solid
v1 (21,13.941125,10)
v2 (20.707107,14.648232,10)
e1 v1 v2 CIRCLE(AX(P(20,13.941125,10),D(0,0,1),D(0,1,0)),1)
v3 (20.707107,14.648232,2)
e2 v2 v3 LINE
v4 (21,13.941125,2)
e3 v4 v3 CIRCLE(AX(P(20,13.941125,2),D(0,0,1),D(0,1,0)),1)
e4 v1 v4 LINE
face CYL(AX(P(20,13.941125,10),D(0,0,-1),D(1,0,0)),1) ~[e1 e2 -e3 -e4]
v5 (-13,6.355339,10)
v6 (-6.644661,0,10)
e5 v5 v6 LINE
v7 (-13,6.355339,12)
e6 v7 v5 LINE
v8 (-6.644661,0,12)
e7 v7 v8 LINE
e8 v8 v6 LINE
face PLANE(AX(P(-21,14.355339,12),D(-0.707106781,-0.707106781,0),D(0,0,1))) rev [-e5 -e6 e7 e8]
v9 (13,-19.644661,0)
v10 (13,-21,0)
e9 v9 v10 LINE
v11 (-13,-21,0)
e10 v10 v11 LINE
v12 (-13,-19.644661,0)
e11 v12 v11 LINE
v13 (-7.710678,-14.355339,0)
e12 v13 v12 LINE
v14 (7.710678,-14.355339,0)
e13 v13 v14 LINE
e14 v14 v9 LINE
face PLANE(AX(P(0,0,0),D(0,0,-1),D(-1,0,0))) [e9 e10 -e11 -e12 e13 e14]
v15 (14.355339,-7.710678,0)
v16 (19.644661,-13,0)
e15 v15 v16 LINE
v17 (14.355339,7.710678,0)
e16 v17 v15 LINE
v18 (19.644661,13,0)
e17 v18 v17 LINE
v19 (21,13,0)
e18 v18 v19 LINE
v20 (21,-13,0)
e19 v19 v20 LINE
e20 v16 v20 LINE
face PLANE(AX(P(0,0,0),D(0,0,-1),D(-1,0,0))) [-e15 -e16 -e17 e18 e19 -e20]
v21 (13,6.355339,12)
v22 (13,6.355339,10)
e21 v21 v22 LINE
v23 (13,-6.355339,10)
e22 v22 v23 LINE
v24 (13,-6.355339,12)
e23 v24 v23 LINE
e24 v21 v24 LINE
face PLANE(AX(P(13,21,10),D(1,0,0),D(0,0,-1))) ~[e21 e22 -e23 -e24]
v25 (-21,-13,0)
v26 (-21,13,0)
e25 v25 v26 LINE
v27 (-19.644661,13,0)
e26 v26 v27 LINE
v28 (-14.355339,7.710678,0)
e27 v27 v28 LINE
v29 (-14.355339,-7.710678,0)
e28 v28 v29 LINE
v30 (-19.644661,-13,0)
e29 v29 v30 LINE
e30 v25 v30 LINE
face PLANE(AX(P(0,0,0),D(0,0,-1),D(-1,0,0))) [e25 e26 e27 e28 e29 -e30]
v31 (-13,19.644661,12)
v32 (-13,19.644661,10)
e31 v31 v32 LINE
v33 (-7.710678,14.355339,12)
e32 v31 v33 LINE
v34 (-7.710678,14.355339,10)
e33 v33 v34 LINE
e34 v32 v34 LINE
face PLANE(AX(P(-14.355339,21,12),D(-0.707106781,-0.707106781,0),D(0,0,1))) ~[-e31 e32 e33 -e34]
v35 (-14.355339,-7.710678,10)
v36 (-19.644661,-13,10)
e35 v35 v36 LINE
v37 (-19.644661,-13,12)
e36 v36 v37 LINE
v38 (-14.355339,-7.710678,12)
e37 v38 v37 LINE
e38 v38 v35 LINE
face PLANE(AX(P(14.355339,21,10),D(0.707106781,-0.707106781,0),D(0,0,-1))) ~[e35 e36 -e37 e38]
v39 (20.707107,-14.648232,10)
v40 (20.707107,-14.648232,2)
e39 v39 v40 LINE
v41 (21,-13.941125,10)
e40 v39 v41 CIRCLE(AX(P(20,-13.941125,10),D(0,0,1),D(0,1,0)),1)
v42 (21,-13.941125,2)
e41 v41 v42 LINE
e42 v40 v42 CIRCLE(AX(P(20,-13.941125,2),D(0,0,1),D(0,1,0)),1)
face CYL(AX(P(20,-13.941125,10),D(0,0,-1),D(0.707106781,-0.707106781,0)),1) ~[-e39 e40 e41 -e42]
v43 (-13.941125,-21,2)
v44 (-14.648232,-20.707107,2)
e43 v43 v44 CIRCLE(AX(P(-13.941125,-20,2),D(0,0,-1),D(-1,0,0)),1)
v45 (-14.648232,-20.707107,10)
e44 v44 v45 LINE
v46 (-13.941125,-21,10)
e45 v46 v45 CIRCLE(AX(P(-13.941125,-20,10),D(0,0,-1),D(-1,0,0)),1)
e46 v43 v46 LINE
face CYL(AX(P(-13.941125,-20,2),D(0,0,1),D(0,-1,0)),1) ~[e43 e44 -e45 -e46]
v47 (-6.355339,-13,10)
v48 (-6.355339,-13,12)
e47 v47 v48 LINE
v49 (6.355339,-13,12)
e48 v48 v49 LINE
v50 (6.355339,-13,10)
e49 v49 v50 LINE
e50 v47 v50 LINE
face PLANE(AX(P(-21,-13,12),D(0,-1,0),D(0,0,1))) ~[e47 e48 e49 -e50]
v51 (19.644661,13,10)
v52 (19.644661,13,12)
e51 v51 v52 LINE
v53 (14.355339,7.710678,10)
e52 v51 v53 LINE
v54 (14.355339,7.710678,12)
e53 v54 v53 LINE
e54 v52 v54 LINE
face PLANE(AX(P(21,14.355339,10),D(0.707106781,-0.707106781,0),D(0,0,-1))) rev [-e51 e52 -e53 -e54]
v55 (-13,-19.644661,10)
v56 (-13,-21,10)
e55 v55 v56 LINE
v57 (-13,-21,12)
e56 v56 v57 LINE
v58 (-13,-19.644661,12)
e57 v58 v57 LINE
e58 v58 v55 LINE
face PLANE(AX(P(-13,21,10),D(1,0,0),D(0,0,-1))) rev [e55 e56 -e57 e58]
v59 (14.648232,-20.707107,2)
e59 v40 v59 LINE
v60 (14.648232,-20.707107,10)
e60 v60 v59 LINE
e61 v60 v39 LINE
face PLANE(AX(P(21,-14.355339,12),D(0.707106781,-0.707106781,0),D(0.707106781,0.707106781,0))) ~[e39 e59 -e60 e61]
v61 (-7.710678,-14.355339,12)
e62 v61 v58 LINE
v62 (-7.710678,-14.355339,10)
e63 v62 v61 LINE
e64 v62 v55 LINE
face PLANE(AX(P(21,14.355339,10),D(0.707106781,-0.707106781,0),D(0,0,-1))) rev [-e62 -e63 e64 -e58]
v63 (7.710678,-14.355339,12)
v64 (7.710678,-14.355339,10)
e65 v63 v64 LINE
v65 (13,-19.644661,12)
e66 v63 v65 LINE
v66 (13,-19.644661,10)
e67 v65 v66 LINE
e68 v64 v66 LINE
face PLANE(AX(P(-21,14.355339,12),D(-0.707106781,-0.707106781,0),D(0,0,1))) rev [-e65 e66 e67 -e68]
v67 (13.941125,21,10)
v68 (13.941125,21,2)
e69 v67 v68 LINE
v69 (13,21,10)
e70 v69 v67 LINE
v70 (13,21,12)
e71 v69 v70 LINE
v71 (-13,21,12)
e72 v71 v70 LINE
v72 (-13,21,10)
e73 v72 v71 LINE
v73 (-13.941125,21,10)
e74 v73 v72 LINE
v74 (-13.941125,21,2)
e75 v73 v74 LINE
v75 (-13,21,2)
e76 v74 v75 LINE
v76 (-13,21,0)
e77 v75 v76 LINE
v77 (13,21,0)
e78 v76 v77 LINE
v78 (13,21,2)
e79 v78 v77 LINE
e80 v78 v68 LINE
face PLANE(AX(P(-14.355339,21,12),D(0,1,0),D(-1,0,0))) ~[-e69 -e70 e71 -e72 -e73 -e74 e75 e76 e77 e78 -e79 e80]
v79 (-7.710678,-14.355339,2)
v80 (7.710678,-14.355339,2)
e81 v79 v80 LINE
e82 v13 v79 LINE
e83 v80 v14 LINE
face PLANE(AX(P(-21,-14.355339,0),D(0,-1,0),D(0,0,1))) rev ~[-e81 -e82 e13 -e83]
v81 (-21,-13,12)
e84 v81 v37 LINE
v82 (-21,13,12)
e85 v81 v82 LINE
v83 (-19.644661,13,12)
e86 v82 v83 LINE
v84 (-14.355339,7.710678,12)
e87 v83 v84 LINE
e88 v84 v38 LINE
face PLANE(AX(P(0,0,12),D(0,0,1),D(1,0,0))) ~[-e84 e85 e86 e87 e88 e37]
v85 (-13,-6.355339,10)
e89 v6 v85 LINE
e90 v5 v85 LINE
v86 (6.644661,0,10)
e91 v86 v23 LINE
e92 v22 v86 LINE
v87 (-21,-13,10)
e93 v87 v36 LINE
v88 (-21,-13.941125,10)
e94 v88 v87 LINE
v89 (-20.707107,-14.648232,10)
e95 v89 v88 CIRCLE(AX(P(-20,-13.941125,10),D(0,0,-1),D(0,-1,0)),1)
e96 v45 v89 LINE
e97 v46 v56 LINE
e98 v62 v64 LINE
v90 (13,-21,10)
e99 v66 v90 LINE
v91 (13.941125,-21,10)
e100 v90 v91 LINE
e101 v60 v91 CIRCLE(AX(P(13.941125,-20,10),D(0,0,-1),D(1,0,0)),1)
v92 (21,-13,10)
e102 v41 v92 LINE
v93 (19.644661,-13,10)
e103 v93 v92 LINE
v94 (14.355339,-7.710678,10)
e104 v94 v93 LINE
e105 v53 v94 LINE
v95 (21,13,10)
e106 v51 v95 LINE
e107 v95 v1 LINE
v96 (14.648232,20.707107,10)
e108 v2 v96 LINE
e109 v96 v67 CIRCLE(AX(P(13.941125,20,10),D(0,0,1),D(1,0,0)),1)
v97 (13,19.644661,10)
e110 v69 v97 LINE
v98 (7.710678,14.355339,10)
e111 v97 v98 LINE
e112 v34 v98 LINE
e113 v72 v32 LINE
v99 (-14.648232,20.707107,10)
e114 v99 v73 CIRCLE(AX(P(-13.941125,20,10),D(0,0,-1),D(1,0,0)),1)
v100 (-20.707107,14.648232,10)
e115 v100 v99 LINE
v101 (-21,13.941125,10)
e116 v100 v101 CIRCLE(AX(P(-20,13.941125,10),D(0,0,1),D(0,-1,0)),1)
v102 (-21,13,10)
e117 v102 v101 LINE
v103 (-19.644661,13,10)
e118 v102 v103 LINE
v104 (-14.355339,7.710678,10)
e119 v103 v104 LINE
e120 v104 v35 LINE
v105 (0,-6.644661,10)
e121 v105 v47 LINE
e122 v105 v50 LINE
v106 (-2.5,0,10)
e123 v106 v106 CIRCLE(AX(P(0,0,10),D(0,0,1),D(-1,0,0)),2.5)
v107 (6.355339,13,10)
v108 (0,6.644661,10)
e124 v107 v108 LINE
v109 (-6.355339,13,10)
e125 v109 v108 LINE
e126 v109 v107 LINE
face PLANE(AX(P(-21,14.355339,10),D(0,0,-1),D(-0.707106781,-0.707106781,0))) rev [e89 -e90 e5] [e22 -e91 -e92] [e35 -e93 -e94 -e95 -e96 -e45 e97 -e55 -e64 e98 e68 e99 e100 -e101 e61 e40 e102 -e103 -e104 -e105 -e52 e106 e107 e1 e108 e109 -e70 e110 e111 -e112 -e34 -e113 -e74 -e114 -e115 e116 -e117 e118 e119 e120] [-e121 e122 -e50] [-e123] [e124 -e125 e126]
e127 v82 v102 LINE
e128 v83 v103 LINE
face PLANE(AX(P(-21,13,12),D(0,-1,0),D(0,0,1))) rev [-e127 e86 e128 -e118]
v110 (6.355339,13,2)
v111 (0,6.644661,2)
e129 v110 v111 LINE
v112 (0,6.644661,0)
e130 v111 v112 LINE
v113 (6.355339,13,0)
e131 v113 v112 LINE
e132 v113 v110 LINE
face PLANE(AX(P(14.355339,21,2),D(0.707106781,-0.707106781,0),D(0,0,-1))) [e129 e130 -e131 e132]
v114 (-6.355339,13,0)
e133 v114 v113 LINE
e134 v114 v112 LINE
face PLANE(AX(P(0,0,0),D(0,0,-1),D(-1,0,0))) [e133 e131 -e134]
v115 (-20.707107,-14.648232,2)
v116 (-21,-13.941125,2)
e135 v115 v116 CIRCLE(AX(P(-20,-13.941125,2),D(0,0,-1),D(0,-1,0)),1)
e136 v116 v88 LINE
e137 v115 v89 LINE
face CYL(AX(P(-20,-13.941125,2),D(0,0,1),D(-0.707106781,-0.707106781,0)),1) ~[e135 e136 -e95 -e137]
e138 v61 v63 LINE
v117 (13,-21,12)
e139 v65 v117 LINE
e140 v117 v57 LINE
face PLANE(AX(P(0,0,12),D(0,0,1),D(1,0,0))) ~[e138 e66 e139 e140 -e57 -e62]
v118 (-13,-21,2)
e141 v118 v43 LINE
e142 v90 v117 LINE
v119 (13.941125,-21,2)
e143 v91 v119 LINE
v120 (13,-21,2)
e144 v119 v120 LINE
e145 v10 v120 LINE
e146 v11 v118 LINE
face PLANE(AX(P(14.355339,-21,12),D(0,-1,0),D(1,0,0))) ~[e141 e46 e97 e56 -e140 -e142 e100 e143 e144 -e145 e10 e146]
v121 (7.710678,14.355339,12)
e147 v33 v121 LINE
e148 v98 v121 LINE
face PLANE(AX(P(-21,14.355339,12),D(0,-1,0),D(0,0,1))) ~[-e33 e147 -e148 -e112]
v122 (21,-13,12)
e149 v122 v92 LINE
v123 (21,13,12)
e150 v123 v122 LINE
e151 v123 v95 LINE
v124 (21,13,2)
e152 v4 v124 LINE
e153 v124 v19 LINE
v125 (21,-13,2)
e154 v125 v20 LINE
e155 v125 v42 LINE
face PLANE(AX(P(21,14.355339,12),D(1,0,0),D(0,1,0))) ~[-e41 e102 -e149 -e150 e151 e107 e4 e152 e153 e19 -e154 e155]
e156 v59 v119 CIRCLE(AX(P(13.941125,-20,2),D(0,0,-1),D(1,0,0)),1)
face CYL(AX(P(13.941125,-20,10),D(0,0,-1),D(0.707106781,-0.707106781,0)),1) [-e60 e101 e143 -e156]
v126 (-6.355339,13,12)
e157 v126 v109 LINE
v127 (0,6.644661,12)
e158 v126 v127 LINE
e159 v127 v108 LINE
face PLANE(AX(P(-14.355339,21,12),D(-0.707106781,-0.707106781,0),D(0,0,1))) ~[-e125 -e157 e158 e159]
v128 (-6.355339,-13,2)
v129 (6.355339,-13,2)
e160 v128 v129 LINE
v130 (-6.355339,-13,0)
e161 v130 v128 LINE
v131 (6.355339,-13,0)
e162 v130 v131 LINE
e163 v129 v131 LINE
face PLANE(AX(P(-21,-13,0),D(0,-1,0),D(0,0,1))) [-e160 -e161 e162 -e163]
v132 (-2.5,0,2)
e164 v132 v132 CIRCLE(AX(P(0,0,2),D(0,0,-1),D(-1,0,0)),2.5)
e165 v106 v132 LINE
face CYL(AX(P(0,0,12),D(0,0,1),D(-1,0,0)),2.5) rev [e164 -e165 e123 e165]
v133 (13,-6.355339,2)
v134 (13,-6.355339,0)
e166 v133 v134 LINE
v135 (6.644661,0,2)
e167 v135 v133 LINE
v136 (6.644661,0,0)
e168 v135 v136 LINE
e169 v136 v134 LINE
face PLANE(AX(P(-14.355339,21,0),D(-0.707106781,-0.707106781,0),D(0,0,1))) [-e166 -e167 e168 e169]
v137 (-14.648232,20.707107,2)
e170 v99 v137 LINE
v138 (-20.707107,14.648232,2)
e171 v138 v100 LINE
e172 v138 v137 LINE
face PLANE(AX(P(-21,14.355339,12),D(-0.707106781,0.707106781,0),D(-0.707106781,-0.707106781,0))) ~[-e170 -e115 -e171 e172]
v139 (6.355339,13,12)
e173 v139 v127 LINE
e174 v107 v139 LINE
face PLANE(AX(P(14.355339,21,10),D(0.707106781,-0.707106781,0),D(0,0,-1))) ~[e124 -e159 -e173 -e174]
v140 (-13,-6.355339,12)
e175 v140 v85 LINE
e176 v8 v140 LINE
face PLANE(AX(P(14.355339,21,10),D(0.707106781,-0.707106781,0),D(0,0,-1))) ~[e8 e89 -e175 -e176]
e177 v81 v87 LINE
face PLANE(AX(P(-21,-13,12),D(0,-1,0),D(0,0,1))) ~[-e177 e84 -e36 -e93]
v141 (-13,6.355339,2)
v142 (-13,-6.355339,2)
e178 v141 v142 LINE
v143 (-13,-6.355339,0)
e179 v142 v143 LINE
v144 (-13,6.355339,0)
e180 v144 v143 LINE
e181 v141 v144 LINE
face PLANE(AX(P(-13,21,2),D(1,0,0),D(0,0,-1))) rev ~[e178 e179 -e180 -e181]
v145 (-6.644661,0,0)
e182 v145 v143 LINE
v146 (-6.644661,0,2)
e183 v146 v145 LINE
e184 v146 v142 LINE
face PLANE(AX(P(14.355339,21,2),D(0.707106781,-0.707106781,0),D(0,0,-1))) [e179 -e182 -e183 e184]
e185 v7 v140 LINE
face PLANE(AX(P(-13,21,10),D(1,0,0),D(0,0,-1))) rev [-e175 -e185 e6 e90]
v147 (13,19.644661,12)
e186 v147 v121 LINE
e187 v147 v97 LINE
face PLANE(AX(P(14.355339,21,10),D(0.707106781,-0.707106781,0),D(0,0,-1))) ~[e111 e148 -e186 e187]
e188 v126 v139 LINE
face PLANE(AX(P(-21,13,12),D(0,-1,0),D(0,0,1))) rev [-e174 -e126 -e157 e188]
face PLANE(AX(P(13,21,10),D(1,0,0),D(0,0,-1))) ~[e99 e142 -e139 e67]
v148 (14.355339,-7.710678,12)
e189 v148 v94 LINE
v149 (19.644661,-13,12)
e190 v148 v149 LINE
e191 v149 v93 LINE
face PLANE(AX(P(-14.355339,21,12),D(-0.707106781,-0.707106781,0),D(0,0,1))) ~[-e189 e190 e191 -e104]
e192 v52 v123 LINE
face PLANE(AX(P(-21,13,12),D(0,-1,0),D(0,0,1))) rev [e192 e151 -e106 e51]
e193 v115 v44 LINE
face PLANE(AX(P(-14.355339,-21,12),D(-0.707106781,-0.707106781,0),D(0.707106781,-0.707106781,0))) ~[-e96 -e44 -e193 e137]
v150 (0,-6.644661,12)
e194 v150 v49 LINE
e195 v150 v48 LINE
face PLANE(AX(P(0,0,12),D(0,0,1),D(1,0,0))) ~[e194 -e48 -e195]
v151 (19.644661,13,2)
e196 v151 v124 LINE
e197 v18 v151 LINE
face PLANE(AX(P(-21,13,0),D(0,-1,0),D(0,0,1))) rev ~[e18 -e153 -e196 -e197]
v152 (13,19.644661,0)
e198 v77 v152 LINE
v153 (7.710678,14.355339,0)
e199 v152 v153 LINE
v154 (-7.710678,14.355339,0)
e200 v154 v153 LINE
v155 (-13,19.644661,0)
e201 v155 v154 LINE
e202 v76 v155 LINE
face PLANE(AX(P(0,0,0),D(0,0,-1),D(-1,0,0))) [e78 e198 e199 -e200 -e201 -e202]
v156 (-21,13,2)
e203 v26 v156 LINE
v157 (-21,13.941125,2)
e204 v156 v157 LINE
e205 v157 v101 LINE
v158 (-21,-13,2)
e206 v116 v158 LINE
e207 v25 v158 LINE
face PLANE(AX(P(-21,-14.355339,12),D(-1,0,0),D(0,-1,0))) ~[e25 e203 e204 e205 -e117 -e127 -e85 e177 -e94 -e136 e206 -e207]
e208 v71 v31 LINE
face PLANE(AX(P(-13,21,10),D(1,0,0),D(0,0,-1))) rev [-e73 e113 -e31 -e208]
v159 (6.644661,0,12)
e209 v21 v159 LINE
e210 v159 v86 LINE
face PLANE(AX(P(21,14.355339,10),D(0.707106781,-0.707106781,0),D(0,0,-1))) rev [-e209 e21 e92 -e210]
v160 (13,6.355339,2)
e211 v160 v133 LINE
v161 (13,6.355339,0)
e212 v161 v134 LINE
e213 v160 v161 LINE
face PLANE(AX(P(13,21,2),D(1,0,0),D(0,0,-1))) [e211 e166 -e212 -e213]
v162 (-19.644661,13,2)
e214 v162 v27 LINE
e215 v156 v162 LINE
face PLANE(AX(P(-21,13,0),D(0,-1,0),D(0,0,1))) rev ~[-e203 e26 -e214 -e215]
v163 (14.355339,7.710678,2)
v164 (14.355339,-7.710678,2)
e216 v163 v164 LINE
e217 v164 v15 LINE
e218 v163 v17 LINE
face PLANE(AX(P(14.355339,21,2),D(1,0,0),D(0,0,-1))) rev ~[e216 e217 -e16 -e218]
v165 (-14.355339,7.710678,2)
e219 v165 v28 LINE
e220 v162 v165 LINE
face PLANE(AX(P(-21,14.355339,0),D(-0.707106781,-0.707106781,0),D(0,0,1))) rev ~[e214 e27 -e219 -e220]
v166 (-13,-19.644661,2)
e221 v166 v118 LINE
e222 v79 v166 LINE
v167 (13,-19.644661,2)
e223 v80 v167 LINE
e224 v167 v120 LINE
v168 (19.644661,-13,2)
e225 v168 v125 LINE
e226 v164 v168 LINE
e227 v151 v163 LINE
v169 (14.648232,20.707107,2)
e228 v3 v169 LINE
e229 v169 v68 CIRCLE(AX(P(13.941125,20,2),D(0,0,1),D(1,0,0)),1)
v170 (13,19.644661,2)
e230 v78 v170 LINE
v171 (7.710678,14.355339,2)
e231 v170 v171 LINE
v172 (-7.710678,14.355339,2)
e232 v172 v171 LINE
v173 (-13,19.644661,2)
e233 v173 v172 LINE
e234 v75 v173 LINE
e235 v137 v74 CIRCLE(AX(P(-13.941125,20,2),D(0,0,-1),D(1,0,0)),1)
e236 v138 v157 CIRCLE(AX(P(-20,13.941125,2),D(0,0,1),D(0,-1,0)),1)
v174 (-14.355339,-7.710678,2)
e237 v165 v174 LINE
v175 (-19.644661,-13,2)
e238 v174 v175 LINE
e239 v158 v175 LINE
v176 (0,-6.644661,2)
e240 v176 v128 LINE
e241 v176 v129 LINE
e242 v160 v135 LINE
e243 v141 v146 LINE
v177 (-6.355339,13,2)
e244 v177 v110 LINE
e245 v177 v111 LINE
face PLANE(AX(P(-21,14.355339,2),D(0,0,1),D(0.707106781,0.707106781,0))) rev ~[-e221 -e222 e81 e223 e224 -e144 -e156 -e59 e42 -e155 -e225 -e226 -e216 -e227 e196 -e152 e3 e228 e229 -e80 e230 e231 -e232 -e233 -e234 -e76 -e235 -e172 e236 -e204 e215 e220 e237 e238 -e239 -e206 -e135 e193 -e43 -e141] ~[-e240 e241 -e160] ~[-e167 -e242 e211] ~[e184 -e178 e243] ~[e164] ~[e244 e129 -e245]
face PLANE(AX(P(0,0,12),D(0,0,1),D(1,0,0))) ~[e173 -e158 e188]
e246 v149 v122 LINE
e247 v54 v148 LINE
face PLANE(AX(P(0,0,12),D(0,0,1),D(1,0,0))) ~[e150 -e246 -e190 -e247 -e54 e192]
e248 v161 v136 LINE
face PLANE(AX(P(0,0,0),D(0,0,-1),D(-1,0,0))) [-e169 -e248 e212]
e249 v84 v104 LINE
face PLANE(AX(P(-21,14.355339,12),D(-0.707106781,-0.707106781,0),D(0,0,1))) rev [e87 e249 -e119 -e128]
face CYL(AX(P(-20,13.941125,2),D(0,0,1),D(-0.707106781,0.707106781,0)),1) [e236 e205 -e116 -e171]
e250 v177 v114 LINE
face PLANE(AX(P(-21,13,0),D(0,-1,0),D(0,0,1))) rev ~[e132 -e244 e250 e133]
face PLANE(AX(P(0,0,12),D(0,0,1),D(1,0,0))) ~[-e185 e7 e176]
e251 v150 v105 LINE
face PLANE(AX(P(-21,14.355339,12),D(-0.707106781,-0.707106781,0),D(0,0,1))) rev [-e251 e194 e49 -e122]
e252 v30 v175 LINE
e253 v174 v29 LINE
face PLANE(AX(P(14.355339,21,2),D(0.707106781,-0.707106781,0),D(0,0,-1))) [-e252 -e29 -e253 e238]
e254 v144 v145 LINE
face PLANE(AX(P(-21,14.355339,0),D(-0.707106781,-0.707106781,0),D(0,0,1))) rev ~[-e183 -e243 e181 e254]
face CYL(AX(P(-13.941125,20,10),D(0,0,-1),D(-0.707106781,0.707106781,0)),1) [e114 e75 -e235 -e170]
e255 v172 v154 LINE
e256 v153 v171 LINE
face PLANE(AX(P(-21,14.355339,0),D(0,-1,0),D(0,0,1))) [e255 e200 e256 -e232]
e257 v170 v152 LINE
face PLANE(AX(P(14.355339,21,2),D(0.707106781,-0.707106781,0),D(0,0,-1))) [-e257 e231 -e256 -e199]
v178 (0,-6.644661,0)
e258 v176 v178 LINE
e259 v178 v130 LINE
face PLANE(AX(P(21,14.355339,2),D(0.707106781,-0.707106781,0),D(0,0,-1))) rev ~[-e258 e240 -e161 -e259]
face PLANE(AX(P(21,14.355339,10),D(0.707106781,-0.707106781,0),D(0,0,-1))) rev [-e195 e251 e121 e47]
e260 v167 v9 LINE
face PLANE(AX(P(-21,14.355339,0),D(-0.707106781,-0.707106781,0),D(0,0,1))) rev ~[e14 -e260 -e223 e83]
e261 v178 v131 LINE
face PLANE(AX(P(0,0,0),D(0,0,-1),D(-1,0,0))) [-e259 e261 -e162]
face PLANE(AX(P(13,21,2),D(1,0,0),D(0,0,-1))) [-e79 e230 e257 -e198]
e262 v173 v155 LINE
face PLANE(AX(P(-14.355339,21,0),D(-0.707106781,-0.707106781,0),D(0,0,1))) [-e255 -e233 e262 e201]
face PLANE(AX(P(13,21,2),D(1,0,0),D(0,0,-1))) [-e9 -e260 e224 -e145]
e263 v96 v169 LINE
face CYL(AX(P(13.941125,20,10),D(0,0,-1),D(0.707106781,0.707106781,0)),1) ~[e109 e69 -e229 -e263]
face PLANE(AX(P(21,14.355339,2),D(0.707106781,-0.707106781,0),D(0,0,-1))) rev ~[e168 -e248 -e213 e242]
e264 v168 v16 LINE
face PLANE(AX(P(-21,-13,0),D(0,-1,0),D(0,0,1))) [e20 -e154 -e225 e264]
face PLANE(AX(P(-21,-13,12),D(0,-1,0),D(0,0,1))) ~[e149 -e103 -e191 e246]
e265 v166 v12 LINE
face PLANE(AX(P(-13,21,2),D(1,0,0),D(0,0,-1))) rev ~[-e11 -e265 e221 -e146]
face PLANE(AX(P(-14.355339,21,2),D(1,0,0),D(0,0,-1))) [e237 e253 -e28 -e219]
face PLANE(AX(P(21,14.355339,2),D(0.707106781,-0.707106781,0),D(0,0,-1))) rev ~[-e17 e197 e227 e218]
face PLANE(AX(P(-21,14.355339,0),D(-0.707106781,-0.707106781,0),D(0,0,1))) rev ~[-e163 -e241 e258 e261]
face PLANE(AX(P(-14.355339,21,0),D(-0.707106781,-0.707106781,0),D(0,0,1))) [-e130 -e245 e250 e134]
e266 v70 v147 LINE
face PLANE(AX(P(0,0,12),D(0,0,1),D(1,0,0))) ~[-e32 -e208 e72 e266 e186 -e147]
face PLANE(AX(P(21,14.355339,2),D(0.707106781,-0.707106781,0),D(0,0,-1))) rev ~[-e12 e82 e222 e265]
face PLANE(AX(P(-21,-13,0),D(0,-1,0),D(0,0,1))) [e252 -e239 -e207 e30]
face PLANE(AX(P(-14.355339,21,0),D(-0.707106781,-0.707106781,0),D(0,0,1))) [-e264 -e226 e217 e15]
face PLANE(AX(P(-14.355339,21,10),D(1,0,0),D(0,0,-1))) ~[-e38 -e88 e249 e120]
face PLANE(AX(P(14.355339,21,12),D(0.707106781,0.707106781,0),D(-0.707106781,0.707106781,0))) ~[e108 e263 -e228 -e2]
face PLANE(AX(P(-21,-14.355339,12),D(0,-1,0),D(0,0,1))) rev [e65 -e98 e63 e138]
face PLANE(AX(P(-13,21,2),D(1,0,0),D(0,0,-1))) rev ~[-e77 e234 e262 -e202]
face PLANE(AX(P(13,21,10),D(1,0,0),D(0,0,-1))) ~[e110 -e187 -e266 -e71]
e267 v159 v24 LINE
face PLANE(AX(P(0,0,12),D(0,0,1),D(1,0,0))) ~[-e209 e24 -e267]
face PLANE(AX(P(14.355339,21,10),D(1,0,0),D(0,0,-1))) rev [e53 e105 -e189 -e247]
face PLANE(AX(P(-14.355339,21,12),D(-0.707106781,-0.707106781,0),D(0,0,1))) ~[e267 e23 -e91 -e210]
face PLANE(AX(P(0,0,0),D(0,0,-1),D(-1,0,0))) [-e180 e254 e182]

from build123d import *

# Parameters (mm, degrees)
BOSS_EXTRUDE1_DEPTH = 6
SKETCH2_W           = 1.355339059
SKETCH2_H           = 2
CUT_EXTRUDE1_DEPTH  = 43
SKETCH3_W           = 2
SKETCH3_H           = 1.355339059
CUT_EXTRUDE2_DEPTH  = 43
SKETCH4_W           = 2
SKETCH4_H           = 9.39696962
CUT_EXTRUDE3_DEPTH  = 55.69848481
SKETCH5_W           = 2
SKETCH5_H           = 9.39696962
CUT_EXTRUDE4_DEPTH  = 55.69848481
SKETCH7_R           = 2.5
CUT_EXTRUDE7_DEPTH  = 7
FILLET1_R           = 1


with BuildPart() as part:
    # Sketch1 → Boss-Extrude1 (new body)
    with BuildSketch(Plane.XY):
        Polygon((-21, 14.355339059), (-14.355339059, 21), (14.355339059, 21), (21, 14.355339059), (21, -14.355339059), (14.355339059, -21), (-14.355339059, -21), (-21, -14.355339059), align=None)
    boss_extrude1 = extrude(amount=BOSS_EXTRUDE1_DEPTH)

    # Sketch2 → Cut-Extrude1 (cut, through all)
    with BuildSketch(Plane(origin=(0, 21, 0), x_dir=(1, 0, 0), z_dir=(0, 1, 0))):
        with Locations((-13.67766953, -1)):
            Rectangle(SKETCH2_W, SKETCH2_H)
        with Locations((13.67766953, -1)):
            Rectangle(SKETCH2_W, SKETCH2_H)
    cut_extrude1 = extrude(amount=-CUT_EXTRUDE1_DEPTH, mode=Mode.SUBTRACT)

    # Sketch3 → Cut-Extrude2 (cut, through all)
    with BuildSketch(Plane.ZY.offset(21)):
        with Locations((1, 13.67766953)):
            Rectangle(SKETCH3_W, SKETCH3_H)
        with Locations((1, -13.67766953)):
            Rectangle(SKETCH3_W, SKETCH3_H)
    cut_extrude2 = extrude(amount=-CUT_EXTRUDE2_DEPTH, mode=Mode.SUBTRACT)

    # Sketch4 → Cut-Extrude3 (cut, through all)
    with BuildSketch(Plane(origin=(17.67766953, 17.67766953, 0), x_dir=(0, 0, -1), z_dir=(0.707106781, 0.707106781, 0))):
        with Locations((-1, 0)):
            Rectangle(SKETCH4_W, SKETCH4_H)
    cut_extrude3 = extrude(amount=-CUT_EXTRUDE3_DEPTH, mode=Mode.SUBTRACT)

    # Sketch5 → Cut-Extrude4 (cut, through all)
    with BuildSketch(Plane(origin=(-17.67766953, 17.67766953, 0), x_dir=(0, 0, 1), z_dir=(-0.707106781, 0.707106781, 0))):
        with Locations((1, 0)):
            Rectangle(SKETCH5_W, SKETCH5_H)
    cut_extrude4 = extrude(amount=-CUT_EXTRUDE4_DEPTH, mode=Mode.SUBTRACT)

    # Sketch7 → Cut-Extrude7 (cut, through all)
    with BuildSketch(Plane(origin=(0, 0, 0), x_dir=(-1, 0, 0), z_dir=(0, 0, -1))):
        Circle(SKETCH7_R)
    cut_extrude7 = extrude(amount=-CUT_EXTRUDE7_DEPTH, mode=Mode.SUBTRACT)

    # Mirror2: Boss-Extrude1, Cut-Extrude1, Cut-Extrude2, Cut-Extrude3, Cut-Extrude4, Cut-Extrude7 across plane
    add(boss_extrude1.mirror(Plane(origin=(0, 0, 6), x_dir=(1, 0, 0), z_dir=(0, 0, -1))))
    add(cut_extrude1.mirror(Plane(origin=(0, 0, 6), x_dir=(1, 0, 0), z_dir=(0, 0, -1))), mode=Mode.SUBTRACT)
    add(cut_extrude2.mirror(Plane(origin=(0, 0, 6), x_dir=(1, 0, 0), z_dir=(0, 0, -1))), mode=Mode.SUBTRACT)
    add(cut_extrude3.mirror(Plane(origin=(0, 0, 6), x_dir=(1, 0, 0), z_dir=(0, 0, -1))), mode=Mode.SUBTRACT)
    add(cut_extrude4.mirror(Plane(origin=(0, 0, 6), x_dir=(1, 0, 0), z_dir=(0, 0, -1))), mode=Mode.SUBTRACT)
    add(cut_extrude7.mirror(Plane(origin=(0, 0, 6), x_dir=(1, 0, 0), z_dir=(0, 0, -1))), mode=Mode.SUBTRACT)

    # Fillet1
    fillet1_edges = [part.edges().sort_by_distance(p)[0] for p in [
        (-14.355339059, 21, 6),
        (-14.355339059, -21, 6),
        (14.355339059, 21, 6),
        (14.355339059, -21, 6),
        (-21, 14.355339059, 6),
        (21, 14.355339059, 6),
        (21, -14.355339059, 6),
        (-21, -14.355339059, 6),
    ]]
    fillet(fillet1_edges, radius=FILLET1_R)


solid = part.part
